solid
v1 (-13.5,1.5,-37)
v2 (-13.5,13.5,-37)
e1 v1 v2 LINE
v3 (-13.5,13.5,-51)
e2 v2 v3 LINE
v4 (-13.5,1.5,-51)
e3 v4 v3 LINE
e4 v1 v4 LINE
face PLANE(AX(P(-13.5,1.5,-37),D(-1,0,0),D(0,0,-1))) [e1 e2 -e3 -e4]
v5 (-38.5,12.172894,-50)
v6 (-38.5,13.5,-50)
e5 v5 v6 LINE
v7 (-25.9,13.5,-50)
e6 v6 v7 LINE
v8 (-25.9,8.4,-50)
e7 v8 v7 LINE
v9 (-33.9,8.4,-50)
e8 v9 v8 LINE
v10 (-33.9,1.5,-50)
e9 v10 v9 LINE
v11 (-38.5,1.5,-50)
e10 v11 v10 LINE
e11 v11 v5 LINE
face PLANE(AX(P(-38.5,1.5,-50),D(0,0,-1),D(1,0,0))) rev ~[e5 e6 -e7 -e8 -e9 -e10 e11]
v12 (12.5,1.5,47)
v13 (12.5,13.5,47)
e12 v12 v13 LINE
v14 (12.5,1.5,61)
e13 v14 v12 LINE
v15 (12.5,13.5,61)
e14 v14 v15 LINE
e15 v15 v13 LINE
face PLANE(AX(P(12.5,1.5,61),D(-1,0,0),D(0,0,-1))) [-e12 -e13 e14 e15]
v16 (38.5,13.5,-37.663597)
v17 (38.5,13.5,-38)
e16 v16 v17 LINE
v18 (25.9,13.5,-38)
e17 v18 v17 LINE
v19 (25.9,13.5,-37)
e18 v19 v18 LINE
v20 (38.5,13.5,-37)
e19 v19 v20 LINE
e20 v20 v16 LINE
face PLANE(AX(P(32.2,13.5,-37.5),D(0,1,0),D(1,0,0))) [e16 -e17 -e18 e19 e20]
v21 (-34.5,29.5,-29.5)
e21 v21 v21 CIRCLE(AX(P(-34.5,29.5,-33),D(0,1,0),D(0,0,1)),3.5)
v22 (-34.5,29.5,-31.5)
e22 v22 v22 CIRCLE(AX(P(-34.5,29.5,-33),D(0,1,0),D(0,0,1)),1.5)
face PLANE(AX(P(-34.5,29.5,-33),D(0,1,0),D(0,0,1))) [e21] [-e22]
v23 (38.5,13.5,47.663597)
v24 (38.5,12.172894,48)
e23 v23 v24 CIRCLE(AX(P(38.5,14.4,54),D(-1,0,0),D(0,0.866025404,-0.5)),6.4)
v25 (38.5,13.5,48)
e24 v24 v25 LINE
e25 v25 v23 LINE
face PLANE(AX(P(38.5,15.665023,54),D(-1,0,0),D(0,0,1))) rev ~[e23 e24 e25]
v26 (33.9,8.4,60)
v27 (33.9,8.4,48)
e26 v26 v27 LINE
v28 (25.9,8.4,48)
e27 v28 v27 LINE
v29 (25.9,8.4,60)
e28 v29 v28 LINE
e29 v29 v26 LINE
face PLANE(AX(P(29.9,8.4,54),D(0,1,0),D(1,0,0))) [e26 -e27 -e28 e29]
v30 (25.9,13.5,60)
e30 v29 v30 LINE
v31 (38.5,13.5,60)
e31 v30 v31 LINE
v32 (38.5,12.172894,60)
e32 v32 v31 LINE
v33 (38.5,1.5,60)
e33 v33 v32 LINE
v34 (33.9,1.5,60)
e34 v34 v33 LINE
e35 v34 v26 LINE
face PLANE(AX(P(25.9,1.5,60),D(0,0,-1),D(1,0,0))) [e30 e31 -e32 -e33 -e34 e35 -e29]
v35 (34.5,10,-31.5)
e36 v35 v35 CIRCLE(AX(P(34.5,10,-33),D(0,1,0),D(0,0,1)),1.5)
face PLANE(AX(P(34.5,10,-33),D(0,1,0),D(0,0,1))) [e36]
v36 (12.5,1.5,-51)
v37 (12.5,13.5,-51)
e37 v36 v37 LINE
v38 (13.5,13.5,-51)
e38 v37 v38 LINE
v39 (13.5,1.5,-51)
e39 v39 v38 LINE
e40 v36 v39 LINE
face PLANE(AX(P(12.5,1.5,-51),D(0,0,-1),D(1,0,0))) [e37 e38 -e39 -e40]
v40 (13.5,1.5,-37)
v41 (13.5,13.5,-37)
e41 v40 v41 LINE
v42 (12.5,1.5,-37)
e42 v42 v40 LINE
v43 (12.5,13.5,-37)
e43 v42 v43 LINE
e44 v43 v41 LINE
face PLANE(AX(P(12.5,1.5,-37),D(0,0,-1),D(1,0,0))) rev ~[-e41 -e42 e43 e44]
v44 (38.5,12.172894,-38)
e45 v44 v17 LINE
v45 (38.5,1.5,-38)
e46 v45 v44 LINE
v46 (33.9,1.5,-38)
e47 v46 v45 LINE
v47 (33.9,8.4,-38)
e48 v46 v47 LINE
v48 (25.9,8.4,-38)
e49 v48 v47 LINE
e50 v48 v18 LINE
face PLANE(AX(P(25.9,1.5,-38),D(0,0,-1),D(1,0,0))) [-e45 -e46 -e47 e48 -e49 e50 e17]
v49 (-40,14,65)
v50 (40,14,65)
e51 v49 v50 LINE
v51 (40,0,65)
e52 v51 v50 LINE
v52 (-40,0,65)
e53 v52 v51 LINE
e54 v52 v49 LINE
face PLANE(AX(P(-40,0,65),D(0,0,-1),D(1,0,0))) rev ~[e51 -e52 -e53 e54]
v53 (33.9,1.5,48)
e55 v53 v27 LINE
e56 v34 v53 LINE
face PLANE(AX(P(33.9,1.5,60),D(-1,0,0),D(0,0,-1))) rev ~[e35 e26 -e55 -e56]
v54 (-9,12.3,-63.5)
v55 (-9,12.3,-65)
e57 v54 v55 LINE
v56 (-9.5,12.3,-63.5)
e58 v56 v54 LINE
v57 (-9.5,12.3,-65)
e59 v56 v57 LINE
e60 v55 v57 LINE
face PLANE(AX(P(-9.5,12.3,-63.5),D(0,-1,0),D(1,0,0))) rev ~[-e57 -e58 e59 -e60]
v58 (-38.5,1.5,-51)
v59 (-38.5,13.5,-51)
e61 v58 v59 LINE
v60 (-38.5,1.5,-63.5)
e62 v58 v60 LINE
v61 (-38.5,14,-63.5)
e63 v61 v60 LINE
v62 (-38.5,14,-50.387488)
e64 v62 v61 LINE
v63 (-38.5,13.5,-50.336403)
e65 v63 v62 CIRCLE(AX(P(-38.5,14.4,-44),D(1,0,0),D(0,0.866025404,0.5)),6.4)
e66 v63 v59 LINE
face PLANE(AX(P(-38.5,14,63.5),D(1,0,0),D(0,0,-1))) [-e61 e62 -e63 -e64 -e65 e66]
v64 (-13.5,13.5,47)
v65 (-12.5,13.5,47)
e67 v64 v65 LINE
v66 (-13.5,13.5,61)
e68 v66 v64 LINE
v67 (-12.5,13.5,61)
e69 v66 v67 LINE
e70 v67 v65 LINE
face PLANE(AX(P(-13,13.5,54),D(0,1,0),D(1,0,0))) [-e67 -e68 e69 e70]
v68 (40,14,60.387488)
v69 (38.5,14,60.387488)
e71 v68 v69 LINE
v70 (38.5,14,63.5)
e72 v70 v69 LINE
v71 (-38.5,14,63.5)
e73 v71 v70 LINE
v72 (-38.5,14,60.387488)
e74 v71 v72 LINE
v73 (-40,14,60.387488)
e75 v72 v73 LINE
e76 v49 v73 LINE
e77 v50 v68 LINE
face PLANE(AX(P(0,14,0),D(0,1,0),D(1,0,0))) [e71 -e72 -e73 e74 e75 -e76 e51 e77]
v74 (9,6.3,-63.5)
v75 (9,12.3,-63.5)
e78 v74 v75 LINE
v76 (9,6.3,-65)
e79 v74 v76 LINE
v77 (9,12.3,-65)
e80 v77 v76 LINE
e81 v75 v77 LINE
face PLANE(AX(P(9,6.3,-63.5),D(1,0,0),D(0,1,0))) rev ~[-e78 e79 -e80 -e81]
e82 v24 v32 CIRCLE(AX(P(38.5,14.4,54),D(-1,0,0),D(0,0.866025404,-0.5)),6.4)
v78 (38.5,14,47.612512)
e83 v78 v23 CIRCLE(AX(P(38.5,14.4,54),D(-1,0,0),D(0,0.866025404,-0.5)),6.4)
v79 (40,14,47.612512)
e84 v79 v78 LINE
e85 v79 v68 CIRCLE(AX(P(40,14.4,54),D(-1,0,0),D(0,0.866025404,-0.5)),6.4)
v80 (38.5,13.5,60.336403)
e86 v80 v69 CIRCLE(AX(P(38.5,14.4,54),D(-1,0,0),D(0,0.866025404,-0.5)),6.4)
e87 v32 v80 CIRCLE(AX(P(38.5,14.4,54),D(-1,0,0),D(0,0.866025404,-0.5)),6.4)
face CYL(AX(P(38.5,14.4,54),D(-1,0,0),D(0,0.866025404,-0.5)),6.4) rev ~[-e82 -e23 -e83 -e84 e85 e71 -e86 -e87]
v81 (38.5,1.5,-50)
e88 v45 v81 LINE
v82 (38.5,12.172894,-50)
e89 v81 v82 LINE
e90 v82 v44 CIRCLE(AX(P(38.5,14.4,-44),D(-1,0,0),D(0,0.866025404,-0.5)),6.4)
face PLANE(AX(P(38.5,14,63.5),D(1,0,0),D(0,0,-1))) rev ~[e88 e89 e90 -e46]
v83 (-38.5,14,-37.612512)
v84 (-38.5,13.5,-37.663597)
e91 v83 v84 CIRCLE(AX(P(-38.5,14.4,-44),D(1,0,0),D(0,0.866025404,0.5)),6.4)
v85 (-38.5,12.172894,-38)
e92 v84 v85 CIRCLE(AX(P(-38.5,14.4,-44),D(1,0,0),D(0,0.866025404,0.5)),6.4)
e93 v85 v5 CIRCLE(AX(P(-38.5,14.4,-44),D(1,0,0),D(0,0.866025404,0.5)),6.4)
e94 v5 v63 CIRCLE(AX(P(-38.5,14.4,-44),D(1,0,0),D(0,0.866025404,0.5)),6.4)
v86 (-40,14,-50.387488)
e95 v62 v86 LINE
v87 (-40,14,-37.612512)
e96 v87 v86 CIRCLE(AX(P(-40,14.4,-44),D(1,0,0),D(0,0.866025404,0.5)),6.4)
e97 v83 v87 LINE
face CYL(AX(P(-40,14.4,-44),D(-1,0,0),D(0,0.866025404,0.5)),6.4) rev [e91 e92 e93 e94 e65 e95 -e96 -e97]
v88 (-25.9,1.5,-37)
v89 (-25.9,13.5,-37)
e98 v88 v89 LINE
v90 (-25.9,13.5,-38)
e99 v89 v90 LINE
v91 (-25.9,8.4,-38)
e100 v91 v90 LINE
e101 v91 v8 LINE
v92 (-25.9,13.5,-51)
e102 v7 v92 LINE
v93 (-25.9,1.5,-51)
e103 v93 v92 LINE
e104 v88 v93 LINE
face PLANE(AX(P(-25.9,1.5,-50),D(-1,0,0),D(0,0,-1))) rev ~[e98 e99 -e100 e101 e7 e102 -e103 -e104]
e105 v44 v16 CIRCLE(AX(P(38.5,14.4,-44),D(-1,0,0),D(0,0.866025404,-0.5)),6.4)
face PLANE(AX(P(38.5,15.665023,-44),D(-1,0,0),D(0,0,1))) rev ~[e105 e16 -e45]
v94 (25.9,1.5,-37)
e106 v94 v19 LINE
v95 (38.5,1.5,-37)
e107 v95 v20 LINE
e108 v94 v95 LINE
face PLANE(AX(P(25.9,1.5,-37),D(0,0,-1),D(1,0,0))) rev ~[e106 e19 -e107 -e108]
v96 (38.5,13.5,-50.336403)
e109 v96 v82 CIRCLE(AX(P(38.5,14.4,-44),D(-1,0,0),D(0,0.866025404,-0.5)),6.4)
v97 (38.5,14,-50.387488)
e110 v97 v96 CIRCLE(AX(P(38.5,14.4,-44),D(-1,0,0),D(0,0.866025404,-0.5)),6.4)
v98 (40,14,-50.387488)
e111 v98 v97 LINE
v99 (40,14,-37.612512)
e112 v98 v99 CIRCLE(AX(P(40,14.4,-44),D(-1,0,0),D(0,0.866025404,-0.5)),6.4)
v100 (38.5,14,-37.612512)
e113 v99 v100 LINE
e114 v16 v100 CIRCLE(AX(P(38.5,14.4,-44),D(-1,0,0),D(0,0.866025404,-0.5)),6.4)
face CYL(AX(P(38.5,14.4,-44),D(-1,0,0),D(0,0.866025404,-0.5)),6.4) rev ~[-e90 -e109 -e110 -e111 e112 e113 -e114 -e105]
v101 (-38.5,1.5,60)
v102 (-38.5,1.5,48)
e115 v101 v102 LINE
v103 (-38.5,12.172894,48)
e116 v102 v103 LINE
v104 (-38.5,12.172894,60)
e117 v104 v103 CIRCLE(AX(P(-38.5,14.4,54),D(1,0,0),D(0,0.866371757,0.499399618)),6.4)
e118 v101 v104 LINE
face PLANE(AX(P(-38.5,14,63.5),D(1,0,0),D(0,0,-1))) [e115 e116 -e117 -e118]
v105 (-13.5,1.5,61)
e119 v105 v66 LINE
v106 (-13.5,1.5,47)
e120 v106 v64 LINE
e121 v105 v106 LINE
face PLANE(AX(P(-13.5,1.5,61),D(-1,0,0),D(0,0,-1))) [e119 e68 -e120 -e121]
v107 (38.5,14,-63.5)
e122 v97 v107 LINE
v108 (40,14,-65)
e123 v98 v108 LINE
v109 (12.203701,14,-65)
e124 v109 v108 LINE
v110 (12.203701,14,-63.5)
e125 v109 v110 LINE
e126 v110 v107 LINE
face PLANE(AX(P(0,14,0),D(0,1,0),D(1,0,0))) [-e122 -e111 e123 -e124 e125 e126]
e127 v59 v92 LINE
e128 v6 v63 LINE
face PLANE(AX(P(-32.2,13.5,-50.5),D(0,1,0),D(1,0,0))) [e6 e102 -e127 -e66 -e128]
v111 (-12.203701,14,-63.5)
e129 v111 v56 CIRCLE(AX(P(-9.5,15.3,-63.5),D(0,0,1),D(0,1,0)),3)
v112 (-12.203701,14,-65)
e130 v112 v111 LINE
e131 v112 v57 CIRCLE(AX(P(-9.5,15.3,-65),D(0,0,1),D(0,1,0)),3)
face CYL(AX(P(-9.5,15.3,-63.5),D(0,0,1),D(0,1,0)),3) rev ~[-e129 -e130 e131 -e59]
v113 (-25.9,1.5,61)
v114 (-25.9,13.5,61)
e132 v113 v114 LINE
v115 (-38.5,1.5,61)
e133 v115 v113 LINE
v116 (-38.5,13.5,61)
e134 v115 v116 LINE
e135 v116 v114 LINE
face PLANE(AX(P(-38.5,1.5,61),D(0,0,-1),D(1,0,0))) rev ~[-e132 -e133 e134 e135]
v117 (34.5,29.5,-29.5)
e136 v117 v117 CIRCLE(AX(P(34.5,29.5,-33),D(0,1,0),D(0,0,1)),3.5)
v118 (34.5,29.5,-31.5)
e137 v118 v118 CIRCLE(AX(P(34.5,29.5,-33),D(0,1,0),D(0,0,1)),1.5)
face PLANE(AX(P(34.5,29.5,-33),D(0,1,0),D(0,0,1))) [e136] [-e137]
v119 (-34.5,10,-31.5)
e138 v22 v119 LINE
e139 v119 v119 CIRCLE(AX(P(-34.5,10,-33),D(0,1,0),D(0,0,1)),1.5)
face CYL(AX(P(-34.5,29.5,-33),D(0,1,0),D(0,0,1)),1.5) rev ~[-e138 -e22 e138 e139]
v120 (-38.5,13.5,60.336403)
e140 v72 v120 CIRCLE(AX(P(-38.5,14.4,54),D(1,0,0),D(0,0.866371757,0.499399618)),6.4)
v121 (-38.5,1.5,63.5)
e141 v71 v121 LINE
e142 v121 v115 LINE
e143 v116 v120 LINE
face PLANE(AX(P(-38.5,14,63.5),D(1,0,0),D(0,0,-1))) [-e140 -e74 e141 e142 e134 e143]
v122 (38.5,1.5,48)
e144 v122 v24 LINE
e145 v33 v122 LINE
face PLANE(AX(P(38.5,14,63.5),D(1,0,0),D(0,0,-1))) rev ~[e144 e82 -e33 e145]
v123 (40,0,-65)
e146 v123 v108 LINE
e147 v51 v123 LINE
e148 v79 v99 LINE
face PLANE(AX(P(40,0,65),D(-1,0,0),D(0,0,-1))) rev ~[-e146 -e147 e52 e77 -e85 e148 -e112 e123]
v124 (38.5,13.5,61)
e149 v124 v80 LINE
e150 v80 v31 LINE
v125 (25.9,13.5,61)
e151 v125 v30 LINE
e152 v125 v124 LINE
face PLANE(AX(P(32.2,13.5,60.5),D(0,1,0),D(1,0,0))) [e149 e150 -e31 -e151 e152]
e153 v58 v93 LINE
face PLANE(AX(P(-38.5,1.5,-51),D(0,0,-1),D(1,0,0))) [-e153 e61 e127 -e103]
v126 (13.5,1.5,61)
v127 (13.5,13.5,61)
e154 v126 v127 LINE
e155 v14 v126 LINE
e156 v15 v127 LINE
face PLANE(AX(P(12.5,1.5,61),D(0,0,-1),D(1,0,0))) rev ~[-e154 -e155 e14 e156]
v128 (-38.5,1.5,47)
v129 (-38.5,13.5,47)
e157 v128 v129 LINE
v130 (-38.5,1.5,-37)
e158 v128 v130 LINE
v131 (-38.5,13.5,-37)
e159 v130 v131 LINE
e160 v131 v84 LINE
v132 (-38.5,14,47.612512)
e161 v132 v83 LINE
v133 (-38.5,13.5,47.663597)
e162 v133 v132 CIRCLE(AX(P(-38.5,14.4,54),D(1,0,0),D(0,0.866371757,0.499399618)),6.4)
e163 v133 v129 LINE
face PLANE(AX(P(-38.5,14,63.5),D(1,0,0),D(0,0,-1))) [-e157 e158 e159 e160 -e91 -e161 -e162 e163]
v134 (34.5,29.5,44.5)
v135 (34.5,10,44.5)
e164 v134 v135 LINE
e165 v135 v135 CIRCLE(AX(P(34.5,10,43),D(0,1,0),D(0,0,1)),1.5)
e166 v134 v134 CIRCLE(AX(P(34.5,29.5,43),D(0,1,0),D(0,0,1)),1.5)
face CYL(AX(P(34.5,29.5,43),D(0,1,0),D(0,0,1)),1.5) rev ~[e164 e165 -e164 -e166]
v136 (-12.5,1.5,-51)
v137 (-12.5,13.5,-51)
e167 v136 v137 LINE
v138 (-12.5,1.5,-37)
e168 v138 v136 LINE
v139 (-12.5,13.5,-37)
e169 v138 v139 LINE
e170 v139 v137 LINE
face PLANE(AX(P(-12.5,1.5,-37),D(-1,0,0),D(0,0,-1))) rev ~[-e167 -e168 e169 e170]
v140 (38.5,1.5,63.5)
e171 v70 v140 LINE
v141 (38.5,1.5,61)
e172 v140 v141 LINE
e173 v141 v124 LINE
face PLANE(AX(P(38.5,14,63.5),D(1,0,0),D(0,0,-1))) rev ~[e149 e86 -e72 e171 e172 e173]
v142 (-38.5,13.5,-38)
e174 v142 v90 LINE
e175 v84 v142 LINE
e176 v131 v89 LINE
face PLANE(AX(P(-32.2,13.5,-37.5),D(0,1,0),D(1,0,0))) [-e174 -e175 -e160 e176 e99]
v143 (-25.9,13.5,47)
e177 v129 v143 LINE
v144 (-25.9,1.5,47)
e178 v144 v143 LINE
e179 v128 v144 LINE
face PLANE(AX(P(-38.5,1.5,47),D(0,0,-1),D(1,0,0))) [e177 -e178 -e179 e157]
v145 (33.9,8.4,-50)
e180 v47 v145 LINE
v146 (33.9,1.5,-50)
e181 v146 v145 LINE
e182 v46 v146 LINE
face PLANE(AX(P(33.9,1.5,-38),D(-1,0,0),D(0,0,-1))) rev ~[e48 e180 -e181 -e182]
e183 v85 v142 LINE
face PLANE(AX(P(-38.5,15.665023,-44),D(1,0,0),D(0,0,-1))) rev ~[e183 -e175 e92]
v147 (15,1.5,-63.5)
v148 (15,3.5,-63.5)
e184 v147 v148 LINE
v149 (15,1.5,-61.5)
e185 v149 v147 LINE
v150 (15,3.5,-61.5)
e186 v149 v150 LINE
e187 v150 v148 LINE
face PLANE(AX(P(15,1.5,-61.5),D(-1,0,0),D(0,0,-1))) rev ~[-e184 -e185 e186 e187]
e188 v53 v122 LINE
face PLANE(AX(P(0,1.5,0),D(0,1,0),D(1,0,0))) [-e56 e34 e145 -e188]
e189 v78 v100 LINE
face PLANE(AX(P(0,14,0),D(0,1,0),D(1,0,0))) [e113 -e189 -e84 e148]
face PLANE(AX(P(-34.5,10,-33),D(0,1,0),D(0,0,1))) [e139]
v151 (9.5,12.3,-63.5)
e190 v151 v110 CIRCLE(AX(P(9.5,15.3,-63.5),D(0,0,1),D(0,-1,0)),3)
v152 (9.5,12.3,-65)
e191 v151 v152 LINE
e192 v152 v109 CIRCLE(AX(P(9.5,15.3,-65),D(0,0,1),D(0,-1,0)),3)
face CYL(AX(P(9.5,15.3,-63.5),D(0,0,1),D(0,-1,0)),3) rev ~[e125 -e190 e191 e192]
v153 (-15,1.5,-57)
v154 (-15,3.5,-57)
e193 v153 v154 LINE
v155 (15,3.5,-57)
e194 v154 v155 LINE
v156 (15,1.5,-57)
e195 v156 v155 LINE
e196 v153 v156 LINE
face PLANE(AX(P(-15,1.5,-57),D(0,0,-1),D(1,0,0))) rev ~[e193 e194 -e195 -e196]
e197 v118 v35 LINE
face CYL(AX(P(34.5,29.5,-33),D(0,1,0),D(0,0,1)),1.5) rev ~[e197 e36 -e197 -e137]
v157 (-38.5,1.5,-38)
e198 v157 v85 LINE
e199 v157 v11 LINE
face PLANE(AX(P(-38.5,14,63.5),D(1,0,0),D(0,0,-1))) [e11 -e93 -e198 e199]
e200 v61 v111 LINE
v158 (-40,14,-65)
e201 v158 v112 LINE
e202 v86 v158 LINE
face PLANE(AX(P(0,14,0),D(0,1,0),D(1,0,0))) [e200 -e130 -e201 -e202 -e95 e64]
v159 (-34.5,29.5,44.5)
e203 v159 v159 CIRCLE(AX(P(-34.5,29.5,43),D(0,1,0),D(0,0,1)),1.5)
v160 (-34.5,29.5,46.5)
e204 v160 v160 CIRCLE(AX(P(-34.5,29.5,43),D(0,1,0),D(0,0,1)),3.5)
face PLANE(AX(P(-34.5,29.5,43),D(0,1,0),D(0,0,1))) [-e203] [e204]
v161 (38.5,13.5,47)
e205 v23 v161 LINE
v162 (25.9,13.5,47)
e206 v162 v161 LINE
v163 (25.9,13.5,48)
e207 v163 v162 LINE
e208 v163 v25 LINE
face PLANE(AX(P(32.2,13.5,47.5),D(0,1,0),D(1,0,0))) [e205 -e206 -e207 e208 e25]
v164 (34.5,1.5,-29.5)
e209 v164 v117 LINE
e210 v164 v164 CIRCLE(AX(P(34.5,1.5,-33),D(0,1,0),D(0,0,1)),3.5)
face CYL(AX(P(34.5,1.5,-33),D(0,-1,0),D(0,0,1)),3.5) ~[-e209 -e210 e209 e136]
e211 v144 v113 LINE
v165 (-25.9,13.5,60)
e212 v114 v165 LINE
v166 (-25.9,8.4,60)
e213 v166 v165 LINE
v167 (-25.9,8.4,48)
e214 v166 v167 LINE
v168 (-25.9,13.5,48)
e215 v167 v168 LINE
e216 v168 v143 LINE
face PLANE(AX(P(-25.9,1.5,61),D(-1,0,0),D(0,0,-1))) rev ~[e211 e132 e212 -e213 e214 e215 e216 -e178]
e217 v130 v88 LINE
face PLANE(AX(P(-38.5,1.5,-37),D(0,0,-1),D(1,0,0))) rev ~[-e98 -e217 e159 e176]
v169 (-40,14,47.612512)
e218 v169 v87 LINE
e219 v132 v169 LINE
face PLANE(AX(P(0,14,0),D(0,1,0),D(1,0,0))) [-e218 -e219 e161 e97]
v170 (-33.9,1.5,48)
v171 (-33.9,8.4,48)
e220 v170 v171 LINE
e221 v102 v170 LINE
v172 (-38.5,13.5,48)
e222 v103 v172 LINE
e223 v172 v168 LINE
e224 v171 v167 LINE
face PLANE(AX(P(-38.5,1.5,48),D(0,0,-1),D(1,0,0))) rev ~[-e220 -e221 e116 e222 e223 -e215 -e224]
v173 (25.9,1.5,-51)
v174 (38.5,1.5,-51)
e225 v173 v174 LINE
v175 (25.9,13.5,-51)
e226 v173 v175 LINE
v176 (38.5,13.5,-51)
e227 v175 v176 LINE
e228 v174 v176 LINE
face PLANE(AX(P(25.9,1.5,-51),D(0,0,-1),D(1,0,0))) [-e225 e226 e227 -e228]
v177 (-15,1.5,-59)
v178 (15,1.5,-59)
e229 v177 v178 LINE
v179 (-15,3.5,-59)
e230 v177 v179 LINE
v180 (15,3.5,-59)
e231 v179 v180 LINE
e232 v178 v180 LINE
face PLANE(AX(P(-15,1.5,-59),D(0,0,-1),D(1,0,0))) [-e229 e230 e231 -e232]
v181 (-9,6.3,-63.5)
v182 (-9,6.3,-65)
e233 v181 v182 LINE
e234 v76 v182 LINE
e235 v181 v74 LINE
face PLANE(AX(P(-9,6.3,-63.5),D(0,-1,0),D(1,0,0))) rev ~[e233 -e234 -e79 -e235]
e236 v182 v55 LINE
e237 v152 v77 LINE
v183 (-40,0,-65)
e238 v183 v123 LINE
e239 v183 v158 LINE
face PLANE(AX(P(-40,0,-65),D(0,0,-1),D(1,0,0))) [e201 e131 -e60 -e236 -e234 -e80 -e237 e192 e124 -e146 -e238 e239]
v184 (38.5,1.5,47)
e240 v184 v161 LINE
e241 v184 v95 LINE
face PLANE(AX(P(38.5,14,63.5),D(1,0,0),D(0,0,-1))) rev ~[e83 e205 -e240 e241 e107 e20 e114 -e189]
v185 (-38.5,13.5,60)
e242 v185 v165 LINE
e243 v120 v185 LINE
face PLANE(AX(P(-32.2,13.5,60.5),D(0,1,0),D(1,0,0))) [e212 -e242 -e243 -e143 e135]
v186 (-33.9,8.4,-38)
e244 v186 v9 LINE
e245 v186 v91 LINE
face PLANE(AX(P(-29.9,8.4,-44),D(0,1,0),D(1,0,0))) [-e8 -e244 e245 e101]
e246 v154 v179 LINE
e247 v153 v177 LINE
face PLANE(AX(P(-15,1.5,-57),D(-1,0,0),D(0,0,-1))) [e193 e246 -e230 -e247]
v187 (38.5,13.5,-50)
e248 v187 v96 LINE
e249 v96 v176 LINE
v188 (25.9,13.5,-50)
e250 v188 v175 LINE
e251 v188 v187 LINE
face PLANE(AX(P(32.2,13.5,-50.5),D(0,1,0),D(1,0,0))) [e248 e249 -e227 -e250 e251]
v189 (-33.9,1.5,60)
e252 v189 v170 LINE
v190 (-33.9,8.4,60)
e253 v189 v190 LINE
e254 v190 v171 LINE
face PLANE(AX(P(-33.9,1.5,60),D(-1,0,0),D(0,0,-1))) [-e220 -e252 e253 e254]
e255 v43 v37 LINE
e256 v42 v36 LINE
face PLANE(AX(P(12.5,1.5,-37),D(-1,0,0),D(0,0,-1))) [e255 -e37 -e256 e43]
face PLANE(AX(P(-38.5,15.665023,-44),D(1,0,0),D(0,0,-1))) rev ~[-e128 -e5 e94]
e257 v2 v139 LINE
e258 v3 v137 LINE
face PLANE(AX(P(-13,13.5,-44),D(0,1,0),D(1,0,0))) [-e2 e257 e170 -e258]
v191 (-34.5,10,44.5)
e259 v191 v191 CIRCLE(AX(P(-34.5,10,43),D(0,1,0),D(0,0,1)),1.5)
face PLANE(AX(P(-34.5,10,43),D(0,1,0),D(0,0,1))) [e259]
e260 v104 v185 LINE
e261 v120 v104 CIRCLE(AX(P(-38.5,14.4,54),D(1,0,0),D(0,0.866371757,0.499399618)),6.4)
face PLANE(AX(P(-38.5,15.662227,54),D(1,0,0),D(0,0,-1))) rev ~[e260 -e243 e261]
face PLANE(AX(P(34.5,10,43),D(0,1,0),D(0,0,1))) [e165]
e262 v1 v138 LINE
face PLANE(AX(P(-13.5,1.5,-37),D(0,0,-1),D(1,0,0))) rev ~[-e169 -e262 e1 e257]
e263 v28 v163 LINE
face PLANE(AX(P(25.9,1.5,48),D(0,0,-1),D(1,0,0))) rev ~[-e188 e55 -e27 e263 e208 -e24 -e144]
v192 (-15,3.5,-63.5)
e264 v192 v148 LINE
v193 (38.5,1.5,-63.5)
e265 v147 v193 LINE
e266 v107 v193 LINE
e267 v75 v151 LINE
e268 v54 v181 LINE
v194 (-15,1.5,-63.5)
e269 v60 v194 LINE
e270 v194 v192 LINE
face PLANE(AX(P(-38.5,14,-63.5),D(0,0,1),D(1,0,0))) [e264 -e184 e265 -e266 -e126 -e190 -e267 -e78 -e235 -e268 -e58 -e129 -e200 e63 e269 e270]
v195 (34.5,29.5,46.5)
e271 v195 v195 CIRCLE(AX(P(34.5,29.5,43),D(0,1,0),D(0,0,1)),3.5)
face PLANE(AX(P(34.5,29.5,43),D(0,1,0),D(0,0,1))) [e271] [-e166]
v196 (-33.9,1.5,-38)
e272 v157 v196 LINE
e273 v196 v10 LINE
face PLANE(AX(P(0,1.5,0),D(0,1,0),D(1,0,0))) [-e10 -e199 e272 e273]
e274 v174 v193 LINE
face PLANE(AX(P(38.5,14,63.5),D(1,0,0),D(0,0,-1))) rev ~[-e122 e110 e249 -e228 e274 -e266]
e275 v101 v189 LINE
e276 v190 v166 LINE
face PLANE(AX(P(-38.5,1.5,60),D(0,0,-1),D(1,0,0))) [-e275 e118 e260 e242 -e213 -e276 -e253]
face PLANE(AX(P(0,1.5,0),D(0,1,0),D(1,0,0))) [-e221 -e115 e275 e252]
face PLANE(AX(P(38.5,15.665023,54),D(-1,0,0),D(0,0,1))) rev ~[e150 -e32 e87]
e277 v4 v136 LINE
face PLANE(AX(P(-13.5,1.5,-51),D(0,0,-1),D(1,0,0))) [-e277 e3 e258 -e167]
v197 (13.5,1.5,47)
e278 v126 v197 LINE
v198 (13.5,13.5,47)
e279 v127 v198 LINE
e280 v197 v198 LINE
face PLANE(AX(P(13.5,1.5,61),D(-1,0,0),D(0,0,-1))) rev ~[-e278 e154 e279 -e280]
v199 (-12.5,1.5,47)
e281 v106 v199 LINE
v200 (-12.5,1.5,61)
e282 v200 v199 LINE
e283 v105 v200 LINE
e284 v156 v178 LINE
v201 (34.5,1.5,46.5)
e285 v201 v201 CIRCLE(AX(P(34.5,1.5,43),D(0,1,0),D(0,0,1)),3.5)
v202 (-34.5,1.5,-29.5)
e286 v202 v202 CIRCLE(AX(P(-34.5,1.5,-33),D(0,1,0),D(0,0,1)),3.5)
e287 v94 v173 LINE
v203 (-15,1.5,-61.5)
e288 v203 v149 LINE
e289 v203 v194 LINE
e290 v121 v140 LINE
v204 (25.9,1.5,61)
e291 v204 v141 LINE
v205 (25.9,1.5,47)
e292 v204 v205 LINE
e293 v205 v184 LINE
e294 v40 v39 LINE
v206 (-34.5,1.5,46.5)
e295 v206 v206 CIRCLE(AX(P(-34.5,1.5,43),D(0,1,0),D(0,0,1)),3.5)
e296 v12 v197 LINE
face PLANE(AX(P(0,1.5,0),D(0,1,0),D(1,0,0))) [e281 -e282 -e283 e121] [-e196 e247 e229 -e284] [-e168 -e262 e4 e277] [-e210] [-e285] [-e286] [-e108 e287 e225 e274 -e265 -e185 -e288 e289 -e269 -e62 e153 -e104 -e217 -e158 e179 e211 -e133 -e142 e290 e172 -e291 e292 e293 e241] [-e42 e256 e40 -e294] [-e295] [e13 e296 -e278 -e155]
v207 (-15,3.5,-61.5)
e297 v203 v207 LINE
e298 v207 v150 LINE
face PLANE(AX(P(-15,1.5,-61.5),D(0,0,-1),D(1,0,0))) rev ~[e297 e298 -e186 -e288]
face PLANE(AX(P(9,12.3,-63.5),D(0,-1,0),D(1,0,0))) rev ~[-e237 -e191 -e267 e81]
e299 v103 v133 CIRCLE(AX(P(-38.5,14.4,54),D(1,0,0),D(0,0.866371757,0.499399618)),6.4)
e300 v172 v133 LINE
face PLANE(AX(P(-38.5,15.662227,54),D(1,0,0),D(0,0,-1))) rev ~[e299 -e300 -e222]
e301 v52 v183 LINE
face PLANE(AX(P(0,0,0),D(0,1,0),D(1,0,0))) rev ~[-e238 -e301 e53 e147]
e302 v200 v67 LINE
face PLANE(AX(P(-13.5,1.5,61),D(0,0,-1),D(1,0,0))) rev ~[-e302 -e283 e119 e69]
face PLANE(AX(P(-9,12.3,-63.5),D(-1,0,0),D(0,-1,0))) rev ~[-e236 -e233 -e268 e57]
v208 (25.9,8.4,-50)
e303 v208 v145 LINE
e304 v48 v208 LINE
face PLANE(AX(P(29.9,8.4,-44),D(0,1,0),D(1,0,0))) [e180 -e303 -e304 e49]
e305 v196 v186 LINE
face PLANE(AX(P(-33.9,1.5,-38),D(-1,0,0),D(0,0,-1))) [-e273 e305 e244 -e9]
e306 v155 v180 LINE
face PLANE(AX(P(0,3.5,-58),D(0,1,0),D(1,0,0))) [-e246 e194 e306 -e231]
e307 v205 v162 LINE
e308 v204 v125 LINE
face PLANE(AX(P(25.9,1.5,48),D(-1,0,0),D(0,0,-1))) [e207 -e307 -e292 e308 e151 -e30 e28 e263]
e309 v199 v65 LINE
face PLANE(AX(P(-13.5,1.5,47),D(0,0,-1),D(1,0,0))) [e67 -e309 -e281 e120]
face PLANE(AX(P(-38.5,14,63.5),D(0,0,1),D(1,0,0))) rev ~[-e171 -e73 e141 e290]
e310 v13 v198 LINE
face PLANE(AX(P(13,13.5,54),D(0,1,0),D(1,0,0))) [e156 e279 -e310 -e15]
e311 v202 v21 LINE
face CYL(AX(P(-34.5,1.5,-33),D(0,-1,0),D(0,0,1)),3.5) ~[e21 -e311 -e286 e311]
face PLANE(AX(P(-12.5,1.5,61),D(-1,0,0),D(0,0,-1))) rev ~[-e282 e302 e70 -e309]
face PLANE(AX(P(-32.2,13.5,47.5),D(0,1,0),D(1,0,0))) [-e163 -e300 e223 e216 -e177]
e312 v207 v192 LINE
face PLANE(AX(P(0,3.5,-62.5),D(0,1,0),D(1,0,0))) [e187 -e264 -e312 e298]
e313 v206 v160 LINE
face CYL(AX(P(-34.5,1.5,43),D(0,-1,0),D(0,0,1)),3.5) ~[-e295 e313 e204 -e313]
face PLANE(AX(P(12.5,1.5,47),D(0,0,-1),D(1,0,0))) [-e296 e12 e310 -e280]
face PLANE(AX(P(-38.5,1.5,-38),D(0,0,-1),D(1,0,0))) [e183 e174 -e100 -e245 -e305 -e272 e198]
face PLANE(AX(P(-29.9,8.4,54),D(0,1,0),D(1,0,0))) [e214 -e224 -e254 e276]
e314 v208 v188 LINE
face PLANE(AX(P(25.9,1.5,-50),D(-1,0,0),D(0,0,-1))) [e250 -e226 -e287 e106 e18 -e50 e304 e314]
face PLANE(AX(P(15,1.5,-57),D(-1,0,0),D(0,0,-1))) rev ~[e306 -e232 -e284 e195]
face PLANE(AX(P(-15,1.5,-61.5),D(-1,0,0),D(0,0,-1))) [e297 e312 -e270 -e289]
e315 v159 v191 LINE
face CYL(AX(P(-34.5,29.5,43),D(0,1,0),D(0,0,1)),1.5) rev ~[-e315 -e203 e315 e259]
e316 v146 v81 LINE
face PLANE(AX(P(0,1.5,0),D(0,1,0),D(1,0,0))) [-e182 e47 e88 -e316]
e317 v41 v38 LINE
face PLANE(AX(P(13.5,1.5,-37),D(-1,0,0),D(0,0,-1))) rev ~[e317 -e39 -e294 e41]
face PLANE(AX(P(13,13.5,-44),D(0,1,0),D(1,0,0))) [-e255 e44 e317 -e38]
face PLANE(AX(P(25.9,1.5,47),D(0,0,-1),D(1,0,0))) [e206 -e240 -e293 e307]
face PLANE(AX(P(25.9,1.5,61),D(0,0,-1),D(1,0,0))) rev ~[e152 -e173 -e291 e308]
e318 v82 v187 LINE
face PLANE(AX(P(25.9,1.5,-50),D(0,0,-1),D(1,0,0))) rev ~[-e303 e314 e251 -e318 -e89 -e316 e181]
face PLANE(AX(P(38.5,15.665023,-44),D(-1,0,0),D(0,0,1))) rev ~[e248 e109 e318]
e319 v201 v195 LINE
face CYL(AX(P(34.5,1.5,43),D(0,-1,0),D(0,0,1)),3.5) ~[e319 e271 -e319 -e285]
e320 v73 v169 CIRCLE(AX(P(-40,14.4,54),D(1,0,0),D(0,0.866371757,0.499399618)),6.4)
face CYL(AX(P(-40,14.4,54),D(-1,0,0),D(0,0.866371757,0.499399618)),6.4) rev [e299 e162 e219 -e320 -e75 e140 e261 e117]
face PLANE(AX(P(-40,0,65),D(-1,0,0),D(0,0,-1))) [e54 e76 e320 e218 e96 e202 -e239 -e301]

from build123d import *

# Parameters (mm, degrees)
SKETCH_262_W         = 80
SKETCH_262_H         = 130
EXTRUDE_1_DEPTH      = 14
SKETCH_1_W           = 77
SKETCH_1_H           = 127
CUT_EXTRUDE_1_DEPTH  = 12.5
CUT_EXTRUDE_2_DEPTH  = 2
SKETCH_10_W          = 8
SKETCH_10_H          = 12
EXTRUDE_2_DEPTH      = 6.9
SKETCH_11_W          = 12.6
SKETCH_11_H          = 1
EXTRUDE_3_DEPTH      = 12
SKETCH_13_R          = 3.5
EXTRUDE_4_DEPTH      = 28
CUT_EXTRUDE_9_DEPTH  = 1.5
CUT_EXTRUDE_START    = -1.5
CUT_EXTRUDE_10_DEPTH = 1.5
CUT_EXTRUDE_11_DEPTH = 1.5
CUT_EXTRUDE_12_DEPTH = 1.5
SKETCH_15_R          = 1.5
CUT_EXTRUDE_14_DEPTH = 19.5
SKETCH_16_W          = 30
SKETCH_16_H          = 2
EXTRUDE_5_DEPTH      = 2
SKETCH_17_W          = 1
SKETCH_17_H          = 14
EXTRUDE_6_DEPTH      = 12


with BuildPart() as part:
    # Sketch 262 → Бобышка-Вытянуть1 (new body)
    with BuildSketch(Plane(origin=(0, 0, 0), x_dir=(1, 0, 0), z_dir=(0, 1, 0))):
        Rectangle(SKETCH_262_W, SKETCH_262_H)
    extrude(amount=EXTRUDE_1_DEPTH)

    # Эскиз1 → Вырез-Вытянуть1 (cut)
    with BuildSketch(Plane(origin=(0, 14, 0), x_dir=(1, 0, 0), z_dir=(0, 1, 0))):
        Rectangle(SKETCH_1_W, SKETCH_1_H)
    extrude(amount=-CUT_EXTRUDE_1_DEPTH, mode=Mode.SUBTRACT)

    # Эскиз2 → Вырез-Вытянуть2 (cut)
    with BuildSketch(Plane.XY.offset(-63.5)):
        with BuildLine():
            Line((-9, 18.3), (-9.5, 18.3))
            ThreePointArc((-9.5, 18.3), (-12.5, 15.3), (-9.5, 12.3))
            Line((-9.5, 12.3), (-9, 12.3))
            Line((-9, 12.3), (-9, 6.3))
            Line((-9, 6.3), (9, 6.3))
            Line((9, 6.3), (9, 12.3))
            Line((9, 12.3), (9.5, 12.3))
            ThreePointArc((9.5, 12.3), (12.5, 15.3), (9.5, 18.3))
            Line((9.5, 18.3), (9, 18.3))
            Line((9, 18.3), (9, 24.3))
            Line((9, 24.3), (-9, 24.3))
            Line((-9, 24.3), (-9, 18.3))
        make_face()
    extrude(amount=-CUT_EXTRUDE_2_DEPTH, mode=Mode.SUBTRACT)

    # Эскиз10 → Бобышка-Вытянуть2 (add)
    with BuildSketch(Plane(origin=(0, 1.5, 0), x_dir=(1, 0, 0), z_dir=(0, 1, 0))):
        with Locations((-29.9, 44)):
            Rectangle(SKETCH_10_W, SKETCH_10_H)
        with Locations((29.9, 44)):
            Rectangle(SKETCH_10_W, SKETCH_10_H)
        with Locations((-29.9, -54)):
            Rectangle(SKETCH_10_W, SKETCH_10_H)
        with Locations((29.9, -54)):
            Rectangle(SKETCH_10_W, SKETCH_10_H)
    extrude(amount=EXTRUDE_2_DEPTH)

    # Эскиз11 → Бобышка-Вытянуть3 (add)
    with BuildSketch(Plane(origin=(0, 1.5, 0), x_dir=(1, 0, 0), z_dir=(0, 1, 0))):
        with Locations((-32.2, 50.5)):
            Rectangle(SKETCH_11_W, SKETCH_11_H)
        with Locations((32.2, 50.5)):
            Rectangle(SKETCH_11_W, SKETCH_11_H)
        with Locations((-32.2, 37.5)):
            Rectangle(SKETCH_11_W, SKETCH_11_H)
        with Locations((32.2, 37.5)):
            Rectangle(SKETCH_11_W, SKETCH_11_H)
        with Locations((32.2, -47.5)):
            Rectangle(SKETCH_11_W, SKETCH_11_H)
        with Locations((32.2, -60.5)):
            Rectangle(SKETCH_11_W, SKETCH_11_H)
        with Locations((-32.2, -47.5)):
            Rectangle(SKETCH_11_W, SKETCH_11_H)
        with Locations((-32.2, -60.5)):
            Rectangle(SKETCH_11_W, SKETCH_11_H)
    extrude(amount=EXTRUDE_3_DEPTH)

    # Эскиз13 → Бобышка-Вытянуть4 (add)
    with BuildSketch(Plane(origin=(0, 1.5, 0), x_dir=(1, 0, 0), z_dir=(0, 1, 0))):
        with Locations(Location((-34.5, 33, 0), (0, 0, 270))):
            Circle(SKETCH_13_R)
        with Locations(Location((34.5, 33, 0), (0, 0, 270))):
            Circle(SKETCH_13_R)
        with Locations(Location((-34.5, -43, 0), (0, 0, 270))):
            Circle(SKETCH_13_R)
        with Locations(Location((34.5, -43, 0), (0, 0, 270))):
            Circle(SKETCH_13_R)
    extrude(amount=EXTRUDE_4_DEPTH)

    # Эскиз5 → Вырез-Вытянуть9 (cut)
    with BuildSketch(Plane.ZY.offset(40)):
        with BuildLine():
            Line((57.199546833, 20.146147769), (57.196157558, 19.944779244))
            ThreePointArc((57.196157558, 19.944779244), (54, 8), (50.803842442, 19.944779244))
            Line((50.803842442, 19.944779244), (50.800453167, 20.146147769))
            ThreePointArc((50.800453167, 20.146147769), (54, 23.4), (57.199546833, 20.146147769))
        make_face()
    extrude(amount=-CUT_EXTRUDE_9_DEPTH, mode=Mode.SUBTRACT)

    # Эскиз6 → Вырез-Вытянуть10 (cut)
    with BuildSketch(Plane(origin=(40, 0, 0), x_dir=(0, 0, -1), z_dir=(1, 0, 0)).offset(CUT_EXTRUDE_START)):
        with BuildLine():
            Line((-50.8, 20.2), (-50.8, 19.942562584))
            ThreePointArc((-50.8, 19.942562584), (-54, 8), (-57.2, 19.942562584))
            Line((-57.2, 19.942562584), (-57.2, 20.2))
            ThreePointArc((-57.2, 20.2), (-54, 23.4), (-50.8, 20.2))
        make_face()
    extrude(amount=CUT_EXTRUDE_10_DEPTH, mode=Mode.SUBTRACT)

    # Эскиз3 → Вырез-Вытянуть11 (cut)
    with BuildSketch(Plane.ZY.offset(40)):
        with BuildLine():
            Line((-40.8, 20.2), (-40.8, 19.942562584))
            ThreePointArc((-40.8, 19.942562584), (-44, 8), (-47.2, 19.942562584))
            Line((-47.2, 19.942562584), (-47.2, 20.2))
            ThreePointArc((-47.2, 20.2), (-44, 23.4), (-40.8, 20.2))
        make_face()
    extrude(amount=-CUT_EXTRUDE_11_DEPTH, mode=Mode.SUBTRACT)

    # Эскиз9 → Вырез-Вытянуть12 (cut)
    with BuildSketch(Plane(origin=(40, 0, 0), x_dir=(0, 0, -1), z_dir=(1, 0, 0)).offset(CUT_EXTRUDE_START)):
        with BuildLine():
            Line((47.2, 20.2), (47.2, 19.942562584))
            ThreePointArc((47.2, 19.942562584), (44, 8), (40.8, 19.942562584))
            Line((40.8, 19.942562584), (40.8, 20.2))
            ThreePointArc((40.8, 20.2), (44, 23.4), (47.2, 20.2))
        make_face()
    extrude(amount=CUT_EXTRUDE_12_DEPTH, mode=Mode.SUBTRACT)

    # Эскиз15 → Вырез-Вытянуть14 (cut)
    with BuildSketch(Plane(origin=(0, 29.5, 0), x_dir=(1, 0, 0), z_dir=(0, 1, 0))):
        with Locations(Location((-34.5, 33, 0), (0, 0, 270))):
            Circle(SKETCH_15_R)
        with Locations(Location((34.5, 33, 0), (0, 0, 270))):
            Circle(SKETCH_15_R)
        with Locations(Location((34.5, -43, 0), (0, 0, 270))):
            Circle(SKETCH_15_R)
        with Locations(Location((-34.5, -43, 0), (0, 0, 270))):
            Circle(SKETCH_15_R)
    extrude(amount=-CUT_EXTRUDE_14_DEPTH, mode=Mode.SUBTRACT)

    # Эскиз16 → Бобышка-Вытянуть5 (add)
    with BuildSketch(Plane(origin=(0, 1.5, 0), x_dir=(1, 0, 0), z_dir=(0, 1, 0))):
        with Locations((0, 62.5)):
            Rectangle(SKETCH_16_W, SKETCH_16_H)
        with Locations((0, 58)):
            Rectangle(SKETCH_16_W, SKETCH_16_H)
    extrude(amount=EXTRUDE_5_DEPTH)

    # Эскиз17 → Бобышка-Вытянуть6 (add)
    with BuildSketch(Plane(origin=(0, 1.5, 0), x_dir=(1, 0, 0), z_dir=(0, 1, 0))):
        with Locations((-13, 44)):
            Rectangle(SKETCH_17_W, SKETCH_17_H)
        with Locations((13, 44)):
            Rectangle(SKETCH_17_W, SKETCH_17_H)
        with Locations((-13, -54)):
            Rectangle(SKETCH_17_W, SKETCH_17_H)
        with Locations((13, -54)):
            Rectangle(SKETCH_17_W, SKETCH_17_H)
    extrude(amount=EXTRUDE_6_DEPTH)


solid = part.part
